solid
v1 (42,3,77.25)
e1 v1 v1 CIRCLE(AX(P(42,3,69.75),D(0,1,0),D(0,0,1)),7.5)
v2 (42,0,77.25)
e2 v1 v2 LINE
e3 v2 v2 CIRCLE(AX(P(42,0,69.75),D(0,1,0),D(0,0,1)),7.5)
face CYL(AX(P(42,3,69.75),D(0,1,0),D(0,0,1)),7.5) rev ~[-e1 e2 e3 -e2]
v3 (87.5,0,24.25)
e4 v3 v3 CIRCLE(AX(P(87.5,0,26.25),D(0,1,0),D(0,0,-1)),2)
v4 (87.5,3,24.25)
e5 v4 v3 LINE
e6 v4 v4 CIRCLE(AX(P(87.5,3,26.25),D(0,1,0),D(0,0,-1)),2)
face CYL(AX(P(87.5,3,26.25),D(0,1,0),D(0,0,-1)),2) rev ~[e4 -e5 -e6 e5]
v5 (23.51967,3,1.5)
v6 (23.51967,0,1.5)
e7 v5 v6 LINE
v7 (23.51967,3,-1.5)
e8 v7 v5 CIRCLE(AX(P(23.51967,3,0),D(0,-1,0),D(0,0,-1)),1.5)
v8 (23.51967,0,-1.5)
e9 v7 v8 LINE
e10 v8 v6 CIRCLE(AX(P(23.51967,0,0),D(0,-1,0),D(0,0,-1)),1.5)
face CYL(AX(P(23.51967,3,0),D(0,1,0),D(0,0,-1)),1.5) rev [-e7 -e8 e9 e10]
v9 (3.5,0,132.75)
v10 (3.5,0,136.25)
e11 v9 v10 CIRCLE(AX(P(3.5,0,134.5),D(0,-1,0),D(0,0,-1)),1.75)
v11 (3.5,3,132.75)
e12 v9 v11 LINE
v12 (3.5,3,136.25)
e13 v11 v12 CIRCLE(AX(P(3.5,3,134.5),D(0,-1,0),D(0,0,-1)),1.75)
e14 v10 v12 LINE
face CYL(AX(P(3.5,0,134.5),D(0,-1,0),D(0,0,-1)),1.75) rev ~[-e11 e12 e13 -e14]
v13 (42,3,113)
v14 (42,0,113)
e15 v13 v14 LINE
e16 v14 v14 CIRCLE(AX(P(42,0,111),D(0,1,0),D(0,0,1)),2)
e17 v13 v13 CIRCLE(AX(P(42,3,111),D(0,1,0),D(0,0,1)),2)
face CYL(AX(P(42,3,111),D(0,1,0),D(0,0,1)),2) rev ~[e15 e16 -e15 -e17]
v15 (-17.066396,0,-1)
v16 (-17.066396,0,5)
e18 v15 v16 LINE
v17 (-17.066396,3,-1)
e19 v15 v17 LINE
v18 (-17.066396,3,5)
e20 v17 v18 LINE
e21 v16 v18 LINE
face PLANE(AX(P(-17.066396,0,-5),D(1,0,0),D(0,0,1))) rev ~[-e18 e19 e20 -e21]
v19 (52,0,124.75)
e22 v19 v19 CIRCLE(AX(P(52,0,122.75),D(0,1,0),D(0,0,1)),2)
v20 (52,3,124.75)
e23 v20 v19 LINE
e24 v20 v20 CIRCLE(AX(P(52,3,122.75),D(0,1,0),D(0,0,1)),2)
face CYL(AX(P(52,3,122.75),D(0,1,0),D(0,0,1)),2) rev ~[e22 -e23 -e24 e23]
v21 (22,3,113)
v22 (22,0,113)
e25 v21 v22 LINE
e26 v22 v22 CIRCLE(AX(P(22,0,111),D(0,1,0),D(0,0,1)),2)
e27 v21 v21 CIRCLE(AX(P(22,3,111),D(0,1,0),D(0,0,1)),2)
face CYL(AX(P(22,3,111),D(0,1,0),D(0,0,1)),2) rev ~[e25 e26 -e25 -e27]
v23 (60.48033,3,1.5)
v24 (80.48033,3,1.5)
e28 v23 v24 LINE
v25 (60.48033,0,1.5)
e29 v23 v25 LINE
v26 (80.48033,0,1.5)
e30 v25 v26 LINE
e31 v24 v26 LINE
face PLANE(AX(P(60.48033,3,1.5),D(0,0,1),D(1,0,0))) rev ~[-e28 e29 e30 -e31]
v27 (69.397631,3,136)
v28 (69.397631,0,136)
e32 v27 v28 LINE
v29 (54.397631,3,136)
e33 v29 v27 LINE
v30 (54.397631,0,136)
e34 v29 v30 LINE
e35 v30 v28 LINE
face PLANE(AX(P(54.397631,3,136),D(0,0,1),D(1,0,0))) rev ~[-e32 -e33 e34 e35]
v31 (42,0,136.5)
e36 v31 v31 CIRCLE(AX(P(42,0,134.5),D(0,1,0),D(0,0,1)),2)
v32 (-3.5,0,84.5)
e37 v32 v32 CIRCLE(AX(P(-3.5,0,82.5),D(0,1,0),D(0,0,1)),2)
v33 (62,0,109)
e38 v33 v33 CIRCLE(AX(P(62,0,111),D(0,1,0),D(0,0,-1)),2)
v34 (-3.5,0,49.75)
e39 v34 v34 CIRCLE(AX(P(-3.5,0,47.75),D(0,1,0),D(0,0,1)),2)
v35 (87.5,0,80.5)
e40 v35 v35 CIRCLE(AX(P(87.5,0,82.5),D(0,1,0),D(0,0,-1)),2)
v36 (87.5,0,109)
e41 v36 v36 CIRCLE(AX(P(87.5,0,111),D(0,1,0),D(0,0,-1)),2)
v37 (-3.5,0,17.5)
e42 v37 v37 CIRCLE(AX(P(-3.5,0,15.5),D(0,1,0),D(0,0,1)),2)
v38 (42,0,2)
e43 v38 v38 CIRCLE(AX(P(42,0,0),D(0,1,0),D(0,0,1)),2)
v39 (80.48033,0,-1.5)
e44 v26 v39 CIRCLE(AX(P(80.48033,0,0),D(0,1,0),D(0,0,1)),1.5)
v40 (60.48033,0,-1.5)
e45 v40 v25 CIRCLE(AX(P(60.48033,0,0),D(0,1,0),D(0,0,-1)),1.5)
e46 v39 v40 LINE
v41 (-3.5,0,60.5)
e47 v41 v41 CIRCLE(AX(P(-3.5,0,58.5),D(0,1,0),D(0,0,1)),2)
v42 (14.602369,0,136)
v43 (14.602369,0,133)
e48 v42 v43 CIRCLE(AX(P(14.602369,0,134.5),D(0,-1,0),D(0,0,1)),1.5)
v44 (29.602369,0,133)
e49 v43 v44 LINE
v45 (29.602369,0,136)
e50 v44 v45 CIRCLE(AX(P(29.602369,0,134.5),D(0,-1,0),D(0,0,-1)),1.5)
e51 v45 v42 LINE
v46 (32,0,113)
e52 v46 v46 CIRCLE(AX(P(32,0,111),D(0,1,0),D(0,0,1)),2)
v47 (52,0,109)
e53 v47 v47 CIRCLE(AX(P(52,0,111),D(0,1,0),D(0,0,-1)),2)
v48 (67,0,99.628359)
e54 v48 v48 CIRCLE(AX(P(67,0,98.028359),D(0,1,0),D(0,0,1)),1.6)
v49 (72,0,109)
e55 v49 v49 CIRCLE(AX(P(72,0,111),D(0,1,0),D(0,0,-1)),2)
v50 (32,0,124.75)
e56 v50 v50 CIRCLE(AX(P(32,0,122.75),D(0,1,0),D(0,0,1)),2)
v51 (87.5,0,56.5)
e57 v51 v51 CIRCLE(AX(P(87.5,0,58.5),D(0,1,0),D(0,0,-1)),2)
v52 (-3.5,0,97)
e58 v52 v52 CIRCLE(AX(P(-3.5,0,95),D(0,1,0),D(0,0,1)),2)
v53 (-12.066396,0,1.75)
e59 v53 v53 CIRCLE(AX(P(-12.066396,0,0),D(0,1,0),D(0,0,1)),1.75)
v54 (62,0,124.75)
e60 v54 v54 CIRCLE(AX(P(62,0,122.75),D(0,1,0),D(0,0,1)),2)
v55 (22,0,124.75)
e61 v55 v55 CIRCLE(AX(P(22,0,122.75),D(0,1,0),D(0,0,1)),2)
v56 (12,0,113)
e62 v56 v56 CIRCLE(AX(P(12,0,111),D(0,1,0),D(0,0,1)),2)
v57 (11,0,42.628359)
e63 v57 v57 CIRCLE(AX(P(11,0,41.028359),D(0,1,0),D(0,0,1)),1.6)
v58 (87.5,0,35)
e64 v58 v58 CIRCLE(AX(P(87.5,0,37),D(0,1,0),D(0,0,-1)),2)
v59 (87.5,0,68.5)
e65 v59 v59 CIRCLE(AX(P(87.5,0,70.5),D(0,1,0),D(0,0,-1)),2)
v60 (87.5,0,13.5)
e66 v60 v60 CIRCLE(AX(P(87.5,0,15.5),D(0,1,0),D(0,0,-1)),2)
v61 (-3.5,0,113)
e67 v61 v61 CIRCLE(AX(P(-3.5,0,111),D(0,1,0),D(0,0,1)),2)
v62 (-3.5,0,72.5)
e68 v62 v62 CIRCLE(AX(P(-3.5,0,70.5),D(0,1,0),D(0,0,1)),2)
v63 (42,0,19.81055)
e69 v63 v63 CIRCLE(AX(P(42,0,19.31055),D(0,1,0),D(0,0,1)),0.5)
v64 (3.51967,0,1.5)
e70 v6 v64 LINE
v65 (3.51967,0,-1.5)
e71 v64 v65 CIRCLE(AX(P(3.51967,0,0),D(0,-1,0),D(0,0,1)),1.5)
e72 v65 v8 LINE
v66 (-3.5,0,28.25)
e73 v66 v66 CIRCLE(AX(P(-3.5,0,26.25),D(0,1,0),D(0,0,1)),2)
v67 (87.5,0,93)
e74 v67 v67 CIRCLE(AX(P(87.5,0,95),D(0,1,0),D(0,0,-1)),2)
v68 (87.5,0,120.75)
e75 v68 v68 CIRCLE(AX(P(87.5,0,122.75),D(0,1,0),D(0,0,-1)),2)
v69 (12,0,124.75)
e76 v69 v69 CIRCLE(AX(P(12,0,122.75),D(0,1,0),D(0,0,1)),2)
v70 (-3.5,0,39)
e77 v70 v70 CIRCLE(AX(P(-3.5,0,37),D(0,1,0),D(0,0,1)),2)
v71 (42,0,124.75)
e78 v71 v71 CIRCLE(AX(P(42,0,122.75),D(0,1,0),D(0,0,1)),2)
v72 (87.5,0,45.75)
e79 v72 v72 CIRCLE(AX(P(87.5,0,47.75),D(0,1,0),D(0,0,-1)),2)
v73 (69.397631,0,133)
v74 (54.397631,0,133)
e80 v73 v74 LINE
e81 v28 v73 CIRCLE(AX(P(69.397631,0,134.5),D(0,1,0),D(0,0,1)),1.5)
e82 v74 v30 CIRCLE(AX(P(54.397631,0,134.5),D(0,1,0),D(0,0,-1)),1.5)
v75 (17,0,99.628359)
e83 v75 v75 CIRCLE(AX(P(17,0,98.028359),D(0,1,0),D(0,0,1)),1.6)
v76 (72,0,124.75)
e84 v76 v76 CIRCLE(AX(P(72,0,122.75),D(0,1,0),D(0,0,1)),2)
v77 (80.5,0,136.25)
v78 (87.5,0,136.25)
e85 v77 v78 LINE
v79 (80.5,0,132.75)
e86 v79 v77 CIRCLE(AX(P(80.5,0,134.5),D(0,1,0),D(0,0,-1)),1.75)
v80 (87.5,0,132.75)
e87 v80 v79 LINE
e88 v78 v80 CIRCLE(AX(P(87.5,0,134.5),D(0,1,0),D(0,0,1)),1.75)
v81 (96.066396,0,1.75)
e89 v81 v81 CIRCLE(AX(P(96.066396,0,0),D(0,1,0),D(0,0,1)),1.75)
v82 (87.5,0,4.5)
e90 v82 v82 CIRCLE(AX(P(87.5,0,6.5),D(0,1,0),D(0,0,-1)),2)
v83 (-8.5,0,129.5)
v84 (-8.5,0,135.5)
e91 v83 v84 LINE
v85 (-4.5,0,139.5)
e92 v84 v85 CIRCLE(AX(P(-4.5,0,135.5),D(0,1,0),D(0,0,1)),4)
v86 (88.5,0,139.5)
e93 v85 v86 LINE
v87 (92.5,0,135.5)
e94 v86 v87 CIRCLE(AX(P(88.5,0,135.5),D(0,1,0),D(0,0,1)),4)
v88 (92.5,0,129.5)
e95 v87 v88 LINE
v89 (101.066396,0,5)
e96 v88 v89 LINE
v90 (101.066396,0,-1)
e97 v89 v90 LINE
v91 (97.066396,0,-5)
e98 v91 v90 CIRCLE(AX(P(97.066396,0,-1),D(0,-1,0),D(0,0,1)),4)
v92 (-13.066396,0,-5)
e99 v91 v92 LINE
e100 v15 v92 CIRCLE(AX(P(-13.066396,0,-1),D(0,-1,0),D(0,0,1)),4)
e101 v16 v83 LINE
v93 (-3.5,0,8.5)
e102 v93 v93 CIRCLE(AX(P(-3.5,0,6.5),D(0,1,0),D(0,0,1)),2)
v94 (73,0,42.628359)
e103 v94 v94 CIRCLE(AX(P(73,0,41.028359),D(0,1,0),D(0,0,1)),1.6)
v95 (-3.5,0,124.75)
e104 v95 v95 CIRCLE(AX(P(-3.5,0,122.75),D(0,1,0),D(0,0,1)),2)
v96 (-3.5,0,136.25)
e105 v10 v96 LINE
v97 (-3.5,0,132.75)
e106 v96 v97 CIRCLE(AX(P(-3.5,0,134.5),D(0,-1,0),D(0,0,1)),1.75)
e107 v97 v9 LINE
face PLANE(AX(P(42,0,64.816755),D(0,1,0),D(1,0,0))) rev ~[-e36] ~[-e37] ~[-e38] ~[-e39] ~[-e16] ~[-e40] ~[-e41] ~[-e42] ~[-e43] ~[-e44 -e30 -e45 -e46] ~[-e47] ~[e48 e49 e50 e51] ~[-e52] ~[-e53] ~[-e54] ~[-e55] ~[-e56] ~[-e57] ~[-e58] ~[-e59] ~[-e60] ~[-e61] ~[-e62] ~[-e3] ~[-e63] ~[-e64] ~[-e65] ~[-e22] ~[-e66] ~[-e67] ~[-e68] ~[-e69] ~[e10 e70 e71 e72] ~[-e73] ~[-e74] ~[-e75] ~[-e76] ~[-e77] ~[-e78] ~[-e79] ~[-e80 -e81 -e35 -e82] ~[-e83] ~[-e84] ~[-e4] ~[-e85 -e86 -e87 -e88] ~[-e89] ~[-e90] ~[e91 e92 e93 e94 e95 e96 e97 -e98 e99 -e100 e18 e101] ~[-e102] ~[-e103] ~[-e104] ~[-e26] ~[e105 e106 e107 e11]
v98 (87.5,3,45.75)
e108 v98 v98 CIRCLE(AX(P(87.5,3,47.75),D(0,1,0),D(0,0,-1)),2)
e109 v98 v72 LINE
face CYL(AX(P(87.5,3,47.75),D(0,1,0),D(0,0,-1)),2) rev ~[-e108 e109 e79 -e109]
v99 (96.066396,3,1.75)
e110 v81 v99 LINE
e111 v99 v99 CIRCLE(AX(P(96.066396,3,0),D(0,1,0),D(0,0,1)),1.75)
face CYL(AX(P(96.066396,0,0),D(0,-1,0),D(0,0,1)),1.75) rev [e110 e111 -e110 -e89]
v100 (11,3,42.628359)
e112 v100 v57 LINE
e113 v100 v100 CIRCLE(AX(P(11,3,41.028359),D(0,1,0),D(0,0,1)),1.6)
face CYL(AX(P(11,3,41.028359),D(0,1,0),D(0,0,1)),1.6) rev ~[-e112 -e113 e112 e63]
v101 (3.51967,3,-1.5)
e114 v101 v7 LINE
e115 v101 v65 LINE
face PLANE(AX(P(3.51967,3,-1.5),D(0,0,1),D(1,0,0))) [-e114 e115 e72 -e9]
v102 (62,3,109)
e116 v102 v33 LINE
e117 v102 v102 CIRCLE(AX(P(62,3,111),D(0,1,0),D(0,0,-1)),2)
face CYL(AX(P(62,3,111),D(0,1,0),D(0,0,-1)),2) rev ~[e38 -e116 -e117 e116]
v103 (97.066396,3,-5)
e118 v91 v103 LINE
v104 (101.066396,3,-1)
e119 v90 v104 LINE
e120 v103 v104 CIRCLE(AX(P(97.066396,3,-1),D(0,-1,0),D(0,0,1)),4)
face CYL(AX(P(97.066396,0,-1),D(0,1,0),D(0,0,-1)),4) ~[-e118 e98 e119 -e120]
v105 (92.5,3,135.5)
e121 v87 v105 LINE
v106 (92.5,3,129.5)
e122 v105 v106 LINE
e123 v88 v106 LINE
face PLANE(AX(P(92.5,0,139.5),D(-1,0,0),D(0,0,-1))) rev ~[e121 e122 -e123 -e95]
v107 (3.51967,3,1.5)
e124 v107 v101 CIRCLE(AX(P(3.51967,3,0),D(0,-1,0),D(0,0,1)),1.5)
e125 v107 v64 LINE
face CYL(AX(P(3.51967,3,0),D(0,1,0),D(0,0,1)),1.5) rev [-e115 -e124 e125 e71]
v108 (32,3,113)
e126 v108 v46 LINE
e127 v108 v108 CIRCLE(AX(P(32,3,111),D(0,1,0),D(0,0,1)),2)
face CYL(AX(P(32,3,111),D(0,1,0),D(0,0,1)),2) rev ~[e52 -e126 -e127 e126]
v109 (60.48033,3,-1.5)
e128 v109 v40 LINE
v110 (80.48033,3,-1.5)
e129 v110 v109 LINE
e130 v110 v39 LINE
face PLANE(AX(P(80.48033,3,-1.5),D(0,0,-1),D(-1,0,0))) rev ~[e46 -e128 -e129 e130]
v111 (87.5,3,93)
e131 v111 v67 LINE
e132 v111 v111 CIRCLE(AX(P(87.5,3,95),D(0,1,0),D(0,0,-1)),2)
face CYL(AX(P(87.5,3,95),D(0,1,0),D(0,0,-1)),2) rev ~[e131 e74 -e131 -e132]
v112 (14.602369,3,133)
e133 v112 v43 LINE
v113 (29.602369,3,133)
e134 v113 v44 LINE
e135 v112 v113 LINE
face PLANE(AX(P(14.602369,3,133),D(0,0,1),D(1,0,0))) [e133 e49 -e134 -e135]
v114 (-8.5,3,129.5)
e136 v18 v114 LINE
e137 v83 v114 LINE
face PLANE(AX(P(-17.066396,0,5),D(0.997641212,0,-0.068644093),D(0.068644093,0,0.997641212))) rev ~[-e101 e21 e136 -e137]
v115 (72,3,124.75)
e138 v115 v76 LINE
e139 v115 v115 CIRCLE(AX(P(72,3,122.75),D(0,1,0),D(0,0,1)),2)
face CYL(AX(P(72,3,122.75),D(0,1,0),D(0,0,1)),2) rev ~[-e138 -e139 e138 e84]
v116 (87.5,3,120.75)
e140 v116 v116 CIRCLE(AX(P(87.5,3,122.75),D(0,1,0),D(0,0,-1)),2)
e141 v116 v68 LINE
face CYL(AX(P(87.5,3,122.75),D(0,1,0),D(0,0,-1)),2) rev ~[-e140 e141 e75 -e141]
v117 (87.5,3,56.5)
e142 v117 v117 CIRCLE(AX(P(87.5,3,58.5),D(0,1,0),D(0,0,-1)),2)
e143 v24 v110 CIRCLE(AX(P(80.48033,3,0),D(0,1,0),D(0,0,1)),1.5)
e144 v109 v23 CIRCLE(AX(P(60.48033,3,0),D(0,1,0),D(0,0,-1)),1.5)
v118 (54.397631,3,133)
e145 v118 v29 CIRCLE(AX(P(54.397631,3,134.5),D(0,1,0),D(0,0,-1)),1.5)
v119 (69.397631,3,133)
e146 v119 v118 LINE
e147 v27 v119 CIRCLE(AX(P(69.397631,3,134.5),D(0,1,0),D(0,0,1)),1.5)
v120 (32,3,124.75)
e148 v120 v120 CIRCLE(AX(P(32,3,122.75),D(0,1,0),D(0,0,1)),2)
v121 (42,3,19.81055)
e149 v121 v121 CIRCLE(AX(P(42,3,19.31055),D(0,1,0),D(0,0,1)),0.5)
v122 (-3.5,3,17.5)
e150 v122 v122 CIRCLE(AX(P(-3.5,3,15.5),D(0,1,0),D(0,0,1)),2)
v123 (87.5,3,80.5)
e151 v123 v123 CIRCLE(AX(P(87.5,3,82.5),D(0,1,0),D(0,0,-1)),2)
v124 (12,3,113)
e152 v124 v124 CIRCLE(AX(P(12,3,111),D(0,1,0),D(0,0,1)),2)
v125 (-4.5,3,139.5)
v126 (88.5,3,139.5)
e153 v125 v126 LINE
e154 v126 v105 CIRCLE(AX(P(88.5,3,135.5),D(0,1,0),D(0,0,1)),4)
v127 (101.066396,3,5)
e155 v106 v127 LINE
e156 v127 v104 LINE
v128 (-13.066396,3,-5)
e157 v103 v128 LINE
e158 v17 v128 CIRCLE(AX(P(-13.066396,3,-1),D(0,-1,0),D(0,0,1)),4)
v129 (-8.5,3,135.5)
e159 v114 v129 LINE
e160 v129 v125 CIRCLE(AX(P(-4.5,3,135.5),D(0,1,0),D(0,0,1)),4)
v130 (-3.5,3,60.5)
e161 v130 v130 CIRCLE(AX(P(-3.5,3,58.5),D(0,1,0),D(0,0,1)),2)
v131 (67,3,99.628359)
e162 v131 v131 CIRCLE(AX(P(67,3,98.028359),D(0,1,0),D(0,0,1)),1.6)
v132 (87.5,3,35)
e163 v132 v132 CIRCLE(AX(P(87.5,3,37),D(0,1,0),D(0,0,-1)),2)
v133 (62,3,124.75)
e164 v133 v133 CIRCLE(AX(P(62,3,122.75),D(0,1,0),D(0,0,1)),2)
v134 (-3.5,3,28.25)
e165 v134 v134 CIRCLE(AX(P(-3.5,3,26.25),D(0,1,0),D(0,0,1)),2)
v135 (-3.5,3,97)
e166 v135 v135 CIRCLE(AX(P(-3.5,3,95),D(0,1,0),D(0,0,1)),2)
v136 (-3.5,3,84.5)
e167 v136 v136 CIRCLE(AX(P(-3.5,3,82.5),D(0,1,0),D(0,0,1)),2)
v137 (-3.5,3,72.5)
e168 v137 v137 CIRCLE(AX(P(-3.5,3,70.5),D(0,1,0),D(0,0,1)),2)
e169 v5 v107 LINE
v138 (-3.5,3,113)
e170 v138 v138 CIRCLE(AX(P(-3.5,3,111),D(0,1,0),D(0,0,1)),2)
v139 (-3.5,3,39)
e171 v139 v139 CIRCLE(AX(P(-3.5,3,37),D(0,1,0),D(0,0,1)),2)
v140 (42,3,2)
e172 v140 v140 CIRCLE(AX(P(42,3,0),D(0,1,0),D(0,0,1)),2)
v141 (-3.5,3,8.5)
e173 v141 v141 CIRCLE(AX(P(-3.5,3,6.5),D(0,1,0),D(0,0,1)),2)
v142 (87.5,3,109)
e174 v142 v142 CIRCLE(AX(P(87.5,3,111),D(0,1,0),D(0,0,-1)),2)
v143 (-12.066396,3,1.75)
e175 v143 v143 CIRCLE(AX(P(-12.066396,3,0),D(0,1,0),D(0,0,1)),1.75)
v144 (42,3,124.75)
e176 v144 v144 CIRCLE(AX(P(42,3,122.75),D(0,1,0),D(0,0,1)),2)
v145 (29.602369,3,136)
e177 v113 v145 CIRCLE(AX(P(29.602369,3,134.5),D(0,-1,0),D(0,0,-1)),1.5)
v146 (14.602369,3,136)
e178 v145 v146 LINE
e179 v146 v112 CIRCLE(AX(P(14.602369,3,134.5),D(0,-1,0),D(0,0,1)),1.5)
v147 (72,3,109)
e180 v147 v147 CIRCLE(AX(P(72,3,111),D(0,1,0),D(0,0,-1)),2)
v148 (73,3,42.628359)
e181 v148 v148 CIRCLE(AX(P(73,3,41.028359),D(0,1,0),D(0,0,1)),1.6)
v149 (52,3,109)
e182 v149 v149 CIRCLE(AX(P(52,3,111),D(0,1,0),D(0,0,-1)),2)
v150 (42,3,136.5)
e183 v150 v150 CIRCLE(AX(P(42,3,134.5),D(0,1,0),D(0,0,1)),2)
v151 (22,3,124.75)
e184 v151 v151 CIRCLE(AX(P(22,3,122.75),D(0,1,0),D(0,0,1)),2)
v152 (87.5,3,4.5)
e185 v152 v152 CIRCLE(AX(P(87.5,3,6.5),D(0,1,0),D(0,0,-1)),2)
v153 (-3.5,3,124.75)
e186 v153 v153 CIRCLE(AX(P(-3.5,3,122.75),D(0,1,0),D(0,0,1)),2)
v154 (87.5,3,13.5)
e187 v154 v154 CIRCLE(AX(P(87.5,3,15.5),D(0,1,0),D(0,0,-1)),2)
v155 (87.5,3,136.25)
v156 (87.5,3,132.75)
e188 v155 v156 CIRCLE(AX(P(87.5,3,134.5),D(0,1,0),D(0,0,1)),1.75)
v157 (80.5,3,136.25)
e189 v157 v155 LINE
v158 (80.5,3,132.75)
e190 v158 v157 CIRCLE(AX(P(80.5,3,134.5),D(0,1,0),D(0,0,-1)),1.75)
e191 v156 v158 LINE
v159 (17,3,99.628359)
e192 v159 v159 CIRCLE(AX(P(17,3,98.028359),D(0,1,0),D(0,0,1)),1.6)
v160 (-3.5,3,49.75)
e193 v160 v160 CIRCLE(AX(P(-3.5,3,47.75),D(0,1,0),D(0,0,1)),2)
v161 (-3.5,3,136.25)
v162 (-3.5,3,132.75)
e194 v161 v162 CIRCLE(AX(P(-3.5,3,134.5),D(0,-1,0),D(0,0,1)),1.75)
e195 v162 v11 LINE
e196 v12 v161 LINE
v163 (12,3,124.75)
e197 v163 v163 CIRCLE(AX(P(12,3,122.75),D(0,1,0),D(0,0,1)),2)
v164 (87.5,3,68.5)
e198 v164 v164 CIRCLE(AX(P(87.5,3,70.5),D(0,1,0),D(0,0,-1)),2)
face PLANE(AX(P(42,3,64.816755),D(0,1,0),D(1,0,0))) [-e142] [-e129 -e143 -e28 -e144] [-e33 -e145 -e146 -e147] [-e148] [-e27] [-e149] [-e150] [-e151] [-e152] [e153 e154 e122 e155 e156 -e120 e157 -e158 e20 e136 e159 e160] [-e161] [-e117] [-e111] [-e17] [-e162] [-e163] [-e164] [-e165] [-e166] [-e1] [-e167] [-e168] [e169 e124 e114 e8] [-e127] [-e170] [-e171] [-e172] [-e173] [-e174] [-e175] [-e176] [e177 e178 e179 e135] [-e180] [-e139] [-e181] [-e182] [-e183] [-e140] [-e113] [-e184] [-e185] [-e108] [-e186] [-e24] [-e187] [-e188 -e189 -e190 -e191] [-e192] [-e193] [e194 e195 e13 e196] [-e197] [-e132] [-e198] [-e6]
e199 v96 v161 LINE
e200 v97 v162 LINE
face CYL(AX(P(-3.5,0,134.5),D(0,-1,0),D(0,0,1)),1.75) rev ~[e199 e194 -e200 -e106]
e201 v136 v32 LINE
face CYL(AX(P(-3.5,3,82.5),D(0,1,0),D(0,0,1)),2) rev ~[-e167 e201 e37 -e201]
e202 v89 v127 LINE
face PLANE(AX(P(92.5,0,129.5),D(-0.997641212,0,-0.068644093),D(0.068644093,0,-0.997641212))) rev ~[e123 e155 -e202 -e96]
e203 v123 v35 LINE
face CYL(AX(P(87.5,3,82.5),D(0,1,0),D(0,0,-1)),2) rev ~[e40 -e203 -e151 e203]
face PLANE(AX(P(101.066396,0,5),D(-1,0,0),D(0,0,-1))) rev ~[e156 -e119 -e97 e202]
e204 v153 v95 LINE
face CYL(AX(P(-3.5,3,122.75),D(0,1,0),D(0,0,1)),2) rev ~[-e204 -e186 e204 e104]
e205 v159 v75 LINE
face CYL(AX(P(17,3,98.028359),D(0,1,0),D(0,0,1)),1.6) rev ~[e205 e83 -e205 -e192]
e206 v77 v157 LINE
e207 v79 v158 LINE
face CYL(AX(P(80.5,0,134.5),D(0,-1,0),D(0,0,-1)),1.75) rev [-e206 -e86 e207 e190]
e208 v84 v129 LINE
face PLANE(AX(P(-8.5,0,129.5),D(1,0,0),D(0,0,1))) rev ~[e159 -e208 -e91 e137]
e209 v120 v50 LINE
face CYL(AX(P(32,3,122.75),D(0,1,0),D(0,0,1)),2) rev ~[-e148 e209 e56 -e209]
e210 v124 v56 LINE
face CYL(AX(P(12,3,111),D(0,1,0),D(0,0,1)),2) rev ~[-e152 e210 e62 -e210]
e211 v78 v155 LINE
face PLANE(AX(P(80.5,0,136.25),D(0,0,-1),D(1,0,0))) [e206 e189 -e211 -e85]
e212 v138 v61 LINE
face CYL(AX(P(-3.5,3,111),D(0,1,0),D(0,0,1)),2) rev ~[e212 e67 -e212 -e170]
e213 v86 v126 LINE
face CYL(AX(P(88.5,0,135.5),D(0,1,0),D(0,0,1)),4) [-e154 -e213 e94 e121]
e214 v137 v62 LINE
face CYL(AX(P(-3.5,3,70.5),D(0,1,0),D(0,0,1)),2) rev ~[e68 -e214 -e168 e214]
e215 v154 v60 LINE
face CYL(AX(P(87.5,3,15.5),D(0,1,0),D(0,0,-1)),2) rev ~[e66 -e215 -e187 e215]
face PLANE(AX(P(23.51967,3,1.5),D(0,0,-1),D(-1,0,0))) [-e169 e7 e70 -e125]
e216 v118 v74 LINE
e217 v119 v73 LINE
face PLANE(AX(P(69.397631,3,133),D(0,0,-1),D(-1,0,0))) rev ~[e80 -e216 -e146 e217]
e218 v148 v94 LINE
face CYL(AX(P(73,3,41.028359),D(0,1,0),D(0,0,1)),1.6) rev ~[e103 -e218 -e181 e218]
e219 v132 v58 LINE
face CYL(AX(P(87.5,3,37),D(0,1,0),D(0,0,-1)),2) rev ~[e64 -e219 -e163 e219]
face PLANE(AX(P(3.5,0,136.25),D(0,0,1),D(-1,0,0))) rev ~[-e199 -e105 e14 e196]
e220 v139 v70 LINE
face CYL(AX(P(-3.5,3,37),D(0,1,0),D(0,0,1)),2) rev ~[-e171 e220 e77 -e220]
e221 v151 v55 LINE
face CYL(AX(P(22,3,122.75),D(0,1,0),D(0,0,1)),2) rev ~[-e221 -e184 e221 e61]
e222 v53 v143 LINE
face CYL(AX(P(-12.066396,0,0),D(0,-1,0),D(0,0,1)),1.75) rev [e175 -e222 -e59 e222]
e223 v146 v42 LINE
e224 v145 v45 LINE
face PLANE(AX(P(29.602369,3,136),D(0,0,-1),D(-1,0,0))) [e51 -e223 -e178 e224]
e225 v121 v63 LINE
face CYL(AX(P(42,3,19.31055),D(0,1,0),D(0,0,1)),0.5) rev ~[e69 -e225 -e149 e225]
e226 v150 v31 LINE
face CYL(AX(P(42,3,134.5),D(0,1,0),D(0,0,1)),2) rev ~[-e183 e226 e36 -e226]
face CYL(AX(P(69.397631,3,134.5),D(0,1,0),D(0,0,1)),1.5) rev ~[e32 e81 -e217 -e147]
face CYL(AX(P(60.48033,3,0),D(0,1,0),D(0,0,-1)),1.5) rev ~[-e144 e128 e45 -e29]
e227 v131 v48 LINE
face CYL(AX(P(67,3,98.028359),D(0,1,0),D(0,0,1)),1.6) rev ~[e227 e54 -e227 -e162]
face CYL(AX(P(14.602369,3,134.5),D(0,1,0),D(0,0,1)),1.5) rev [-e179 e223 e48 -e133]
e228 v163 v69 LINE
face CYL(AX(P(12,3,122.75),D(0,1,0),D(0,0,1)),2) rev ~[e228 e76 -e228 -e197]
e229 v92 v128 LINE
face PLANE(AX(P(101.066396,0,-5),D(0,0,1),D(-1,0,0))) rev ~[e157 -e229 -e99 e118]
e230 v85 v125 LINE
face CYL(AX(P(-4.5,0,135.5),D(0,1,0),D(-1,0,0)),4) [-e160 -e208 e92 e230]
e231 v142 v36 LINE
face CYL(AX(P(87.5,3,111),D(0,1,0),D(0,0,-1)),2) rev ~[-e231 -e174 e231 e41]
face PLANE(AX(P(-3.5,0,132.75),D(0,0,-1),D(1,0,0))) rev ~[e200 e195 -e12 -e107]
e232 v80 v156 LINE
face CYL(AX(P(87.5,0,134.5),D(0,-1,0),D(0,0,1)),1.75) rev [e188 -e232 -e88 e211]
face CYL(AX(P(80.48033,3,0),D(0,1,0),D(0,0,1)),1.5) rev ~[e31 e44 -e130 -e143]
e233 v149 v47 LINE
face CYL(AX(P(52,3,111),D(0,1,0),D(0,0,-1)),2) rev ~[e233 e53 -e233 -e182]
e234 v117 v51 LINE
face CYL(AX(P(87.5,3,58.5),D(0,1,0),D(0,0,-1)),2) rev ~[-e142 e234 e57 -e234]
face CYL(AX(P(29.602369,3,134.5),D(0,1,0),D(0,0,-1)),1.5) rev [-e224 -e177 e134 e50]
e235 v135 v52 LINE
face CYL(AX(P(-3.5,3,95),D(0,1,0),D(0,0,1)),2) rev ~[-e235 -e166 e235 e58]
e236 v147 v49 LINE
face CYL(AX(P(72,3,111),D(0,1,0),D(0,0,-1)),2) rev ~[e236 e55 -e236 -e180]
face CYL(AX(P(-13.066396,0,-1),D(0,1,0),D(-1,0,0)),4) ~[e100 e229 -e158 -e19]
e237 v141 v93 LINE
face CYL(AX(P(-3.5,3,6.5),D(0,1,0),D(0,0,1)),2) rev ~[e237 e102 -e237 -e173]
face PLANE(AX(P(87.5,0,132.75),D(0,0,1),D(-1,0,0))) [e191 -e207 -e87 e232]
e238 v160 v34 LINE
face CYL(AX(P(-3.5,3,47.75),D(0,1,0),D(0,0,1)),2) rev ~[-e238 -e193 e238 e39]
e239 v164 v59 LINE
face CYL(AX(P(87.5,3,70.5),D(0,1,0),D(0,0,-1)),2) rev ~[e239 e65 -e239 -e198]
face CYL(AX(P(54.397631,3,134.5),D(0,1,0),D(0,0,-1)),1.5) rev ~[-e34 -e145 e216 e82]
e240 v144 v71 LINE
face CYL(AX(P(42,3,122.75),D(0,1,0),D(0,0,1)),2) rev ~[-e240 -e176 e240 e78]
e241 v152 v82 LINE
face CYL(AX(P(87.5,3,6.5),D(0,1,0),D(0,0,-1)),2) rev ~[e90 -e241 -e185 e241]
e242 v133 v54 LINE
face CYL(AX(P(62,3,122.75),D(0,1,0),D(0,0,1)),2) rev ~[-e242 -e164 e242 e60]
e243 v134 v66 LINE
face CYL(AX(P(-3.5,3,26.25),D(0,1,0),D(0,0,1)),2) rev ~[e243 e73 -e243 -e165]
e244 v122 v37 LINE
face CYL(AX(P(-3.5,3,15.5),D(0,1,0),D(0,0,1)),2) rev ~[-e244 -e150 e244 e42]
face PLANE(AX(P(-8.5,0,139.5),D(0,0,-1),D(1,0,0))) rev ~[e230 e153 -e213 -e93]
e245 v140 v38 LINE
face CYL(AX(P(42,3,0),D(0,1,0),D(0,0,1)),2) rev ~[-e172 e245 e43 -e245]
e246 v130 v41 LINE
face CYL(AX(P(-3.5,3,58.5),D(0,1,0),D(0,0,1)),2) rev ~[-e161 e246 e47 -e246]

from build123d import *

# Parameters (mm, degrees)
SKETCH1_R           = 1.75
BOSS_EXTRUDE2_DEPTH = 3
SKETCH2_R           = 1.6
CUT_EXTRUDE1_DEPTH  = 3
FILLET1_R           = 4
SKETCH3_R           = 2
CUT_EXTRUDE2_DEPTH  = 3
SKETCH4_R           = 2
CUT_EXTRUDE3_DEPTH  = 3
SKETCH7_R           = 7.5
CUT_EXTRUDE5_DEPTH  = 3
SKETCH8_R           = 2
CUT_EXTRUDE7_DEPTH  = 3
SKETCH9_R           = 0.5
CUT_EXTRUDE8_DEPTH  = 3


with BuildPart() as part:
    # Sketch1 → Boss-Extrude2 (new body)
    with BuildSketch(Plane(origin=(0, 0, 0), x_dir=(1, 0, 0), z_dir=(0, 1, 0))):
        Polygon((-17.06639584, -5), (-8.5, -129.5), (-8.5, -134.5), (-8.5, -139.5), (92.5, -139.5), (92.5, -129.5), (101.06639584, -5), (101.06639584, 5), (96.06639584, 5), (-17.06639584, 5), (-17.06639584, 0), align=None)
        with Locations(Location((-12.06639584, 0, 0), (0, 0, 270))):
            Circle(SKETCH1_R, mode=Mode.SUBTRACT)
        with Locations(Location((96.06639584, 0, 0), (0, 0, 270))):
            Circle(SKETCH1_R, mode=Mode.SUBTRACT)
        with BuildLine():
            Line((-3.5, -132.75), (3.5, -132.75))
            ThreePointArc((3.5, -132.75), (5.25, -134.5), (3.5, -136.25))
            Line((3.5, -136.25), (-3.5, -136.25))
            ThreePointArc((-3.5, -136.25), (-5.25, -134.5), (-3.5, -132.75))
        make_face(mode=Mode.SUBTRACT)
        with BuildLine():
            Line((87.5, -132.75), (80.5, -132.75))
            ThreePointArc((80.5, -132.75), (78.75, -134.5), (80.5, -136.25))
            Line((80.5, -136.25), (87.5, -136.25))
            ThreePointArc((87.5, -136.25), (89.25, -134.5), (87.5, -132.75))
        make_face(mode=Mode.SUBTRACT)
    extrude(amount=BOSS_EXTRUDE2_DEPTH)

    # Sketch2 → Cut-Extrude1 (cut)
    with BuildSketch(Plane(origin=(0, 3, 0), x_dir=(1, 0, 0), z_dir=(0, 1, 0))):
        with Locations(Location((11, -41.028359395, 0), (0, 0, 270))):
            Circle(SKETCH2_R)
        with Locations(Location((73, -41.028359395, 0), (0, 0, 270))):
            Circle(SKETCH2_R)
        with Locations(Location((17, -98.028359395, 0), (0, 0, 270))):
            Circle(SKETCH2_R)
        with Locations(Location((67, -98.028359395, 0), (0, 0, 270))):
            Circle(SKETCH2_R)
    extrude(amount=-CUT_EXTRUDE1_DEPTH, mode=Mode.SUBTRACT)

    # Fillet1
    fillet1_edges = [part.edges().sort_by_distance(p)[0] for p in [
        (-17.06639584, 1.5, -5),
        (101.06639584, 1.5, -5),
        (92.5, 1.5, 139.5),
        (-8.5, 1.5, 139.5),
    ]]
    fillet(fillet1_edges, radius=FILLET1_R)

    # Sketch3 → Cut-Extrude2 (cut)
    with BuildSketch(Plane(origin=(0, 3, 0), x_dir=(1, 0, 0), z_dir=(0, 1, 0))):
        with Locations(Location((42, 0, 0), (0, 0, 270))):
            Circle(SKETCH3_R)
        with Locations(Location((-3.5, -95, 0), (0, 0, 270))):
            Circle(SKETCH3_R)
        with Locations(Location((-3.5, -111, 0), (0, 0, 270))):
            Circle(SKETCH3_R)
        with Locations(Location((42, -134.5, 0), (0, 0, 270))):
            Circle(SKETCH3_R)
        with Locations(Location((-3.5, -122.75, 0), (0, 0, 270))):
            Circle(SKETCH3_R)
        with Locations(Location((12, -111, 0), (0, 0, 270))):
            Circle(SKETCH3_R)
        with Locations(Location((22, -111, 0), (0, 0, 270))):
            Circle(SKETCH3_R)
        with Locations(Location((32, -111, 0), (0, 0, 270))):
            Circle(SKETCH3_R)
        with Locations(Location((42, -111, 0), (0, 0, 270))):
            Circle(SKETCH3_R)
        with Locations(Location((52, -111, 0), (0, 0, 90))):
            Circle(SKETCH3_R)
        with Locations(Location((62, -111, 0), (0, 0, 90))):
            Circle(SKETCH3_R)
        with Locations(Location((72, -111, 0), (0, 0, 90))):
            Circle(SKETCH3_R)
        with Locations(Location((87.5, -122.75, 0), (0, 0, 90))):
            Circle(SKETCH3_R)
        with Locations(Location((87.5, -111, 0), (0, 0, 90))):
            Circle(SKETCH3_R)
        with Locations(Location((87.5, -95, 0), (0, 0, 90))):
            Circle(SKETCH3_R)
        with BuildLine():
            Line((23.519670138, -1.5), (3.519670138, -1.5))
            ThreePointArc((3.519670138, -1.5), (2.019670138, 0), (3.519670138, 1.5))
            Line((3.519670138, 1.5), (23.519670138, 1.5))
            ThreePointArc((23.519670138, 1.5), (25.019670138, 0), (23.519670138, -1.5))
        make_face()
        with BuildLine():
            Line((29.602369227, -136), (14.602369227, -136))
            ThreePointArc((14.602369227, -136), (13.102369227, -134.5), (14.602369227, -133))
            Line((14.602369227, -133), (29.602369227, -133))
            ThreePointArc((29.602369227, -133), (31.102369227, -134.5), (29.602369227, -136))
        make_face()
        with BuildLine():
            Line((54.397630773, -136), (69.397630773, -136))
            ThreePointArc((69.397630773, -136), (70.897630773, -134.5), (69.397630773, -133))
            Line((69.397630773, -133), (54.397630773, -133))
            ThreePointArc((54.397630773, -133), (52.897630773, -134.5), (54.397630773, -136))
        make_face()
        with BuildLine():
            Line((60.480329862, -1.5), (80.480329862, -1.5))
            ThreePointArc((80.480329862, -1.5), (81.980329862, 0), (80.480329862, 1.5))
            Line((80.480329862, 1.5), (60.480329862, 1.5))
            ThreePointArc((60.480329862, 1.5), (58.980329862, 0), (60.480329862, -1.5))
        make_face()
    extrude(amount=-CUT_EXTRUDE2_DEPTH, mode=Mode.SUBTRACT)

    # Sketch4 → Cut-Extrude3 (cut)
    with BuildSketch(Plane(origin=(0, 3, 0), x_dir=(1, 0, 0), z_dir=(0, 1, 0))):
        with Locations(Location((12, -122.75, 0), (0, 0, 270))):
            Circle(SKETCH4_R)
        with Locations(Location((22, -122.75, 0), (0, 0, 270))):
            Circle(SKETCH4_R)
        with Locations(Location((32, -122.75, 0), (0, 0, 270))):
            Circle(SKETCH4_R)
        with Locations(Location((42, -122.75, 0), (0, 0, 270))):
            Circle(SKETCH4_R)
        with Locations(Location((52, -122.75, 0), (0, 0, 270))):
            Circle(SKETCH4_R)
        with Locations(Location((62, -122.75, 0), (0, 0, 270))):
            Circle(SKETCH4_R)
        with Locations(Location((72, -122.75, 0), (0, 0, 270))):
            Circle(SKETCH4_R)
    extrude(amount=-CUT_EXTRUDE3_DEPTH, mode=Mode.SUBTRACT)

    # Sketch7 → Cut-Extrude5 (cut)
    with BuildSketch(Plane(origin=(0, 3, 0), x_dir=(1, 0, 0), z_dir=(0, 1, 0))):
        with Locations(Location((42, -69.75, 0), (0, 0, 270))):
            Circle(SKETCH7_R)
    extrude(amount=-CUT_EXTRUDE5_DEPTH, mode=Mode.SUBTRACT)

    # Sketch8 → Cut-Extrude7 (cut)
    with BuildSketch(Plane(origin=(0, 3, 0), x_dir=(1, 0, 0), z_dir=(0, 1, 0))):
        with Locations(Location((-3.5, -26.25, 0), (0, 0, 270))):
            Circle(SKETCH8_R)
        with Locations(Location((-3.5, -37, 0), (0, 0, 270))):
            Circle(SKETCH8_R)
        with Locations(Location((-3.5, -70.5, 0), (0, 0, 270))):
            Circle(SKETCH8_R)
        with Locations(Location((-3.5, -82.5, 0), (0, 0, 270))):
            Circle(SKETCH8_R)
        with Locations(Location((-3.5, -6.5, 0), (0, 0, 270))):
            Circle(SKETCH8_R)
        with Locations(Location((-3.5, -15.5, 0), (0, 0, 270))):
            Circle(SKETCH8_R)
        with Locations(Location((-3.5, -47.75, 0), (0, 0, 270))):
            Circle(SKETCH8_R)
        with Locations(Location((-3.5, -58.5, 0), (0, 0, 270))):
            Circle(SKETCH8_R)
        with Locations(Location((87.5, -6.5, 0), (0, 0, 90))):
            Circle(SKETCH8_R)
        with Locations(Location((87.5, -15.5, 0), (0, 0, 90))):
            Circle(SKETCH8_R)
        with Locations(Location((87.5, -26.25, 0), (0, 0, 90))):
            Circle(SKETCH8_R)
        with Locations(Location((87.5, -37, 0), (0, 0, 90))):
            Circle(SKETCH8_R)
        with Locations(Location((87.5, -47.75, 0), (0, 0, 90))):
            Circle(SKETCH8_R)
        with Locations(Location((87.5, -58.5, 0), (0, 0, 90))):
            Circle(SKETCH8_R)
        with Locations(Location((87.5, -70.5, 0), (0, 0, 90))):
            Circle(SKETCH8_R)
        with Locations(Location((87.5, -82.5, 0), (0, 0, 90))):
            Circle(SKETCH8_R)
    extrude(amount=-CUT_EXTRUDE7_DEPTH, mode=Mode.SUBTRACT)

    # Sketch9 → Cut-Extrude8 (cut)
    with BuildSketch(Plane(origin=(0, 3, 0), x_dir=(1, 0, 0), z_dir=(0, 1, 0))):
        with Locations(Location((42, -19.310550248, 0), (0, 0, 270))):
            Circle(SKETCH9_R)
    extrude(amount=-CUT_EXTRUDE8_DEPTH, mode=Mode.SUBTRACT)


solid = part.part
